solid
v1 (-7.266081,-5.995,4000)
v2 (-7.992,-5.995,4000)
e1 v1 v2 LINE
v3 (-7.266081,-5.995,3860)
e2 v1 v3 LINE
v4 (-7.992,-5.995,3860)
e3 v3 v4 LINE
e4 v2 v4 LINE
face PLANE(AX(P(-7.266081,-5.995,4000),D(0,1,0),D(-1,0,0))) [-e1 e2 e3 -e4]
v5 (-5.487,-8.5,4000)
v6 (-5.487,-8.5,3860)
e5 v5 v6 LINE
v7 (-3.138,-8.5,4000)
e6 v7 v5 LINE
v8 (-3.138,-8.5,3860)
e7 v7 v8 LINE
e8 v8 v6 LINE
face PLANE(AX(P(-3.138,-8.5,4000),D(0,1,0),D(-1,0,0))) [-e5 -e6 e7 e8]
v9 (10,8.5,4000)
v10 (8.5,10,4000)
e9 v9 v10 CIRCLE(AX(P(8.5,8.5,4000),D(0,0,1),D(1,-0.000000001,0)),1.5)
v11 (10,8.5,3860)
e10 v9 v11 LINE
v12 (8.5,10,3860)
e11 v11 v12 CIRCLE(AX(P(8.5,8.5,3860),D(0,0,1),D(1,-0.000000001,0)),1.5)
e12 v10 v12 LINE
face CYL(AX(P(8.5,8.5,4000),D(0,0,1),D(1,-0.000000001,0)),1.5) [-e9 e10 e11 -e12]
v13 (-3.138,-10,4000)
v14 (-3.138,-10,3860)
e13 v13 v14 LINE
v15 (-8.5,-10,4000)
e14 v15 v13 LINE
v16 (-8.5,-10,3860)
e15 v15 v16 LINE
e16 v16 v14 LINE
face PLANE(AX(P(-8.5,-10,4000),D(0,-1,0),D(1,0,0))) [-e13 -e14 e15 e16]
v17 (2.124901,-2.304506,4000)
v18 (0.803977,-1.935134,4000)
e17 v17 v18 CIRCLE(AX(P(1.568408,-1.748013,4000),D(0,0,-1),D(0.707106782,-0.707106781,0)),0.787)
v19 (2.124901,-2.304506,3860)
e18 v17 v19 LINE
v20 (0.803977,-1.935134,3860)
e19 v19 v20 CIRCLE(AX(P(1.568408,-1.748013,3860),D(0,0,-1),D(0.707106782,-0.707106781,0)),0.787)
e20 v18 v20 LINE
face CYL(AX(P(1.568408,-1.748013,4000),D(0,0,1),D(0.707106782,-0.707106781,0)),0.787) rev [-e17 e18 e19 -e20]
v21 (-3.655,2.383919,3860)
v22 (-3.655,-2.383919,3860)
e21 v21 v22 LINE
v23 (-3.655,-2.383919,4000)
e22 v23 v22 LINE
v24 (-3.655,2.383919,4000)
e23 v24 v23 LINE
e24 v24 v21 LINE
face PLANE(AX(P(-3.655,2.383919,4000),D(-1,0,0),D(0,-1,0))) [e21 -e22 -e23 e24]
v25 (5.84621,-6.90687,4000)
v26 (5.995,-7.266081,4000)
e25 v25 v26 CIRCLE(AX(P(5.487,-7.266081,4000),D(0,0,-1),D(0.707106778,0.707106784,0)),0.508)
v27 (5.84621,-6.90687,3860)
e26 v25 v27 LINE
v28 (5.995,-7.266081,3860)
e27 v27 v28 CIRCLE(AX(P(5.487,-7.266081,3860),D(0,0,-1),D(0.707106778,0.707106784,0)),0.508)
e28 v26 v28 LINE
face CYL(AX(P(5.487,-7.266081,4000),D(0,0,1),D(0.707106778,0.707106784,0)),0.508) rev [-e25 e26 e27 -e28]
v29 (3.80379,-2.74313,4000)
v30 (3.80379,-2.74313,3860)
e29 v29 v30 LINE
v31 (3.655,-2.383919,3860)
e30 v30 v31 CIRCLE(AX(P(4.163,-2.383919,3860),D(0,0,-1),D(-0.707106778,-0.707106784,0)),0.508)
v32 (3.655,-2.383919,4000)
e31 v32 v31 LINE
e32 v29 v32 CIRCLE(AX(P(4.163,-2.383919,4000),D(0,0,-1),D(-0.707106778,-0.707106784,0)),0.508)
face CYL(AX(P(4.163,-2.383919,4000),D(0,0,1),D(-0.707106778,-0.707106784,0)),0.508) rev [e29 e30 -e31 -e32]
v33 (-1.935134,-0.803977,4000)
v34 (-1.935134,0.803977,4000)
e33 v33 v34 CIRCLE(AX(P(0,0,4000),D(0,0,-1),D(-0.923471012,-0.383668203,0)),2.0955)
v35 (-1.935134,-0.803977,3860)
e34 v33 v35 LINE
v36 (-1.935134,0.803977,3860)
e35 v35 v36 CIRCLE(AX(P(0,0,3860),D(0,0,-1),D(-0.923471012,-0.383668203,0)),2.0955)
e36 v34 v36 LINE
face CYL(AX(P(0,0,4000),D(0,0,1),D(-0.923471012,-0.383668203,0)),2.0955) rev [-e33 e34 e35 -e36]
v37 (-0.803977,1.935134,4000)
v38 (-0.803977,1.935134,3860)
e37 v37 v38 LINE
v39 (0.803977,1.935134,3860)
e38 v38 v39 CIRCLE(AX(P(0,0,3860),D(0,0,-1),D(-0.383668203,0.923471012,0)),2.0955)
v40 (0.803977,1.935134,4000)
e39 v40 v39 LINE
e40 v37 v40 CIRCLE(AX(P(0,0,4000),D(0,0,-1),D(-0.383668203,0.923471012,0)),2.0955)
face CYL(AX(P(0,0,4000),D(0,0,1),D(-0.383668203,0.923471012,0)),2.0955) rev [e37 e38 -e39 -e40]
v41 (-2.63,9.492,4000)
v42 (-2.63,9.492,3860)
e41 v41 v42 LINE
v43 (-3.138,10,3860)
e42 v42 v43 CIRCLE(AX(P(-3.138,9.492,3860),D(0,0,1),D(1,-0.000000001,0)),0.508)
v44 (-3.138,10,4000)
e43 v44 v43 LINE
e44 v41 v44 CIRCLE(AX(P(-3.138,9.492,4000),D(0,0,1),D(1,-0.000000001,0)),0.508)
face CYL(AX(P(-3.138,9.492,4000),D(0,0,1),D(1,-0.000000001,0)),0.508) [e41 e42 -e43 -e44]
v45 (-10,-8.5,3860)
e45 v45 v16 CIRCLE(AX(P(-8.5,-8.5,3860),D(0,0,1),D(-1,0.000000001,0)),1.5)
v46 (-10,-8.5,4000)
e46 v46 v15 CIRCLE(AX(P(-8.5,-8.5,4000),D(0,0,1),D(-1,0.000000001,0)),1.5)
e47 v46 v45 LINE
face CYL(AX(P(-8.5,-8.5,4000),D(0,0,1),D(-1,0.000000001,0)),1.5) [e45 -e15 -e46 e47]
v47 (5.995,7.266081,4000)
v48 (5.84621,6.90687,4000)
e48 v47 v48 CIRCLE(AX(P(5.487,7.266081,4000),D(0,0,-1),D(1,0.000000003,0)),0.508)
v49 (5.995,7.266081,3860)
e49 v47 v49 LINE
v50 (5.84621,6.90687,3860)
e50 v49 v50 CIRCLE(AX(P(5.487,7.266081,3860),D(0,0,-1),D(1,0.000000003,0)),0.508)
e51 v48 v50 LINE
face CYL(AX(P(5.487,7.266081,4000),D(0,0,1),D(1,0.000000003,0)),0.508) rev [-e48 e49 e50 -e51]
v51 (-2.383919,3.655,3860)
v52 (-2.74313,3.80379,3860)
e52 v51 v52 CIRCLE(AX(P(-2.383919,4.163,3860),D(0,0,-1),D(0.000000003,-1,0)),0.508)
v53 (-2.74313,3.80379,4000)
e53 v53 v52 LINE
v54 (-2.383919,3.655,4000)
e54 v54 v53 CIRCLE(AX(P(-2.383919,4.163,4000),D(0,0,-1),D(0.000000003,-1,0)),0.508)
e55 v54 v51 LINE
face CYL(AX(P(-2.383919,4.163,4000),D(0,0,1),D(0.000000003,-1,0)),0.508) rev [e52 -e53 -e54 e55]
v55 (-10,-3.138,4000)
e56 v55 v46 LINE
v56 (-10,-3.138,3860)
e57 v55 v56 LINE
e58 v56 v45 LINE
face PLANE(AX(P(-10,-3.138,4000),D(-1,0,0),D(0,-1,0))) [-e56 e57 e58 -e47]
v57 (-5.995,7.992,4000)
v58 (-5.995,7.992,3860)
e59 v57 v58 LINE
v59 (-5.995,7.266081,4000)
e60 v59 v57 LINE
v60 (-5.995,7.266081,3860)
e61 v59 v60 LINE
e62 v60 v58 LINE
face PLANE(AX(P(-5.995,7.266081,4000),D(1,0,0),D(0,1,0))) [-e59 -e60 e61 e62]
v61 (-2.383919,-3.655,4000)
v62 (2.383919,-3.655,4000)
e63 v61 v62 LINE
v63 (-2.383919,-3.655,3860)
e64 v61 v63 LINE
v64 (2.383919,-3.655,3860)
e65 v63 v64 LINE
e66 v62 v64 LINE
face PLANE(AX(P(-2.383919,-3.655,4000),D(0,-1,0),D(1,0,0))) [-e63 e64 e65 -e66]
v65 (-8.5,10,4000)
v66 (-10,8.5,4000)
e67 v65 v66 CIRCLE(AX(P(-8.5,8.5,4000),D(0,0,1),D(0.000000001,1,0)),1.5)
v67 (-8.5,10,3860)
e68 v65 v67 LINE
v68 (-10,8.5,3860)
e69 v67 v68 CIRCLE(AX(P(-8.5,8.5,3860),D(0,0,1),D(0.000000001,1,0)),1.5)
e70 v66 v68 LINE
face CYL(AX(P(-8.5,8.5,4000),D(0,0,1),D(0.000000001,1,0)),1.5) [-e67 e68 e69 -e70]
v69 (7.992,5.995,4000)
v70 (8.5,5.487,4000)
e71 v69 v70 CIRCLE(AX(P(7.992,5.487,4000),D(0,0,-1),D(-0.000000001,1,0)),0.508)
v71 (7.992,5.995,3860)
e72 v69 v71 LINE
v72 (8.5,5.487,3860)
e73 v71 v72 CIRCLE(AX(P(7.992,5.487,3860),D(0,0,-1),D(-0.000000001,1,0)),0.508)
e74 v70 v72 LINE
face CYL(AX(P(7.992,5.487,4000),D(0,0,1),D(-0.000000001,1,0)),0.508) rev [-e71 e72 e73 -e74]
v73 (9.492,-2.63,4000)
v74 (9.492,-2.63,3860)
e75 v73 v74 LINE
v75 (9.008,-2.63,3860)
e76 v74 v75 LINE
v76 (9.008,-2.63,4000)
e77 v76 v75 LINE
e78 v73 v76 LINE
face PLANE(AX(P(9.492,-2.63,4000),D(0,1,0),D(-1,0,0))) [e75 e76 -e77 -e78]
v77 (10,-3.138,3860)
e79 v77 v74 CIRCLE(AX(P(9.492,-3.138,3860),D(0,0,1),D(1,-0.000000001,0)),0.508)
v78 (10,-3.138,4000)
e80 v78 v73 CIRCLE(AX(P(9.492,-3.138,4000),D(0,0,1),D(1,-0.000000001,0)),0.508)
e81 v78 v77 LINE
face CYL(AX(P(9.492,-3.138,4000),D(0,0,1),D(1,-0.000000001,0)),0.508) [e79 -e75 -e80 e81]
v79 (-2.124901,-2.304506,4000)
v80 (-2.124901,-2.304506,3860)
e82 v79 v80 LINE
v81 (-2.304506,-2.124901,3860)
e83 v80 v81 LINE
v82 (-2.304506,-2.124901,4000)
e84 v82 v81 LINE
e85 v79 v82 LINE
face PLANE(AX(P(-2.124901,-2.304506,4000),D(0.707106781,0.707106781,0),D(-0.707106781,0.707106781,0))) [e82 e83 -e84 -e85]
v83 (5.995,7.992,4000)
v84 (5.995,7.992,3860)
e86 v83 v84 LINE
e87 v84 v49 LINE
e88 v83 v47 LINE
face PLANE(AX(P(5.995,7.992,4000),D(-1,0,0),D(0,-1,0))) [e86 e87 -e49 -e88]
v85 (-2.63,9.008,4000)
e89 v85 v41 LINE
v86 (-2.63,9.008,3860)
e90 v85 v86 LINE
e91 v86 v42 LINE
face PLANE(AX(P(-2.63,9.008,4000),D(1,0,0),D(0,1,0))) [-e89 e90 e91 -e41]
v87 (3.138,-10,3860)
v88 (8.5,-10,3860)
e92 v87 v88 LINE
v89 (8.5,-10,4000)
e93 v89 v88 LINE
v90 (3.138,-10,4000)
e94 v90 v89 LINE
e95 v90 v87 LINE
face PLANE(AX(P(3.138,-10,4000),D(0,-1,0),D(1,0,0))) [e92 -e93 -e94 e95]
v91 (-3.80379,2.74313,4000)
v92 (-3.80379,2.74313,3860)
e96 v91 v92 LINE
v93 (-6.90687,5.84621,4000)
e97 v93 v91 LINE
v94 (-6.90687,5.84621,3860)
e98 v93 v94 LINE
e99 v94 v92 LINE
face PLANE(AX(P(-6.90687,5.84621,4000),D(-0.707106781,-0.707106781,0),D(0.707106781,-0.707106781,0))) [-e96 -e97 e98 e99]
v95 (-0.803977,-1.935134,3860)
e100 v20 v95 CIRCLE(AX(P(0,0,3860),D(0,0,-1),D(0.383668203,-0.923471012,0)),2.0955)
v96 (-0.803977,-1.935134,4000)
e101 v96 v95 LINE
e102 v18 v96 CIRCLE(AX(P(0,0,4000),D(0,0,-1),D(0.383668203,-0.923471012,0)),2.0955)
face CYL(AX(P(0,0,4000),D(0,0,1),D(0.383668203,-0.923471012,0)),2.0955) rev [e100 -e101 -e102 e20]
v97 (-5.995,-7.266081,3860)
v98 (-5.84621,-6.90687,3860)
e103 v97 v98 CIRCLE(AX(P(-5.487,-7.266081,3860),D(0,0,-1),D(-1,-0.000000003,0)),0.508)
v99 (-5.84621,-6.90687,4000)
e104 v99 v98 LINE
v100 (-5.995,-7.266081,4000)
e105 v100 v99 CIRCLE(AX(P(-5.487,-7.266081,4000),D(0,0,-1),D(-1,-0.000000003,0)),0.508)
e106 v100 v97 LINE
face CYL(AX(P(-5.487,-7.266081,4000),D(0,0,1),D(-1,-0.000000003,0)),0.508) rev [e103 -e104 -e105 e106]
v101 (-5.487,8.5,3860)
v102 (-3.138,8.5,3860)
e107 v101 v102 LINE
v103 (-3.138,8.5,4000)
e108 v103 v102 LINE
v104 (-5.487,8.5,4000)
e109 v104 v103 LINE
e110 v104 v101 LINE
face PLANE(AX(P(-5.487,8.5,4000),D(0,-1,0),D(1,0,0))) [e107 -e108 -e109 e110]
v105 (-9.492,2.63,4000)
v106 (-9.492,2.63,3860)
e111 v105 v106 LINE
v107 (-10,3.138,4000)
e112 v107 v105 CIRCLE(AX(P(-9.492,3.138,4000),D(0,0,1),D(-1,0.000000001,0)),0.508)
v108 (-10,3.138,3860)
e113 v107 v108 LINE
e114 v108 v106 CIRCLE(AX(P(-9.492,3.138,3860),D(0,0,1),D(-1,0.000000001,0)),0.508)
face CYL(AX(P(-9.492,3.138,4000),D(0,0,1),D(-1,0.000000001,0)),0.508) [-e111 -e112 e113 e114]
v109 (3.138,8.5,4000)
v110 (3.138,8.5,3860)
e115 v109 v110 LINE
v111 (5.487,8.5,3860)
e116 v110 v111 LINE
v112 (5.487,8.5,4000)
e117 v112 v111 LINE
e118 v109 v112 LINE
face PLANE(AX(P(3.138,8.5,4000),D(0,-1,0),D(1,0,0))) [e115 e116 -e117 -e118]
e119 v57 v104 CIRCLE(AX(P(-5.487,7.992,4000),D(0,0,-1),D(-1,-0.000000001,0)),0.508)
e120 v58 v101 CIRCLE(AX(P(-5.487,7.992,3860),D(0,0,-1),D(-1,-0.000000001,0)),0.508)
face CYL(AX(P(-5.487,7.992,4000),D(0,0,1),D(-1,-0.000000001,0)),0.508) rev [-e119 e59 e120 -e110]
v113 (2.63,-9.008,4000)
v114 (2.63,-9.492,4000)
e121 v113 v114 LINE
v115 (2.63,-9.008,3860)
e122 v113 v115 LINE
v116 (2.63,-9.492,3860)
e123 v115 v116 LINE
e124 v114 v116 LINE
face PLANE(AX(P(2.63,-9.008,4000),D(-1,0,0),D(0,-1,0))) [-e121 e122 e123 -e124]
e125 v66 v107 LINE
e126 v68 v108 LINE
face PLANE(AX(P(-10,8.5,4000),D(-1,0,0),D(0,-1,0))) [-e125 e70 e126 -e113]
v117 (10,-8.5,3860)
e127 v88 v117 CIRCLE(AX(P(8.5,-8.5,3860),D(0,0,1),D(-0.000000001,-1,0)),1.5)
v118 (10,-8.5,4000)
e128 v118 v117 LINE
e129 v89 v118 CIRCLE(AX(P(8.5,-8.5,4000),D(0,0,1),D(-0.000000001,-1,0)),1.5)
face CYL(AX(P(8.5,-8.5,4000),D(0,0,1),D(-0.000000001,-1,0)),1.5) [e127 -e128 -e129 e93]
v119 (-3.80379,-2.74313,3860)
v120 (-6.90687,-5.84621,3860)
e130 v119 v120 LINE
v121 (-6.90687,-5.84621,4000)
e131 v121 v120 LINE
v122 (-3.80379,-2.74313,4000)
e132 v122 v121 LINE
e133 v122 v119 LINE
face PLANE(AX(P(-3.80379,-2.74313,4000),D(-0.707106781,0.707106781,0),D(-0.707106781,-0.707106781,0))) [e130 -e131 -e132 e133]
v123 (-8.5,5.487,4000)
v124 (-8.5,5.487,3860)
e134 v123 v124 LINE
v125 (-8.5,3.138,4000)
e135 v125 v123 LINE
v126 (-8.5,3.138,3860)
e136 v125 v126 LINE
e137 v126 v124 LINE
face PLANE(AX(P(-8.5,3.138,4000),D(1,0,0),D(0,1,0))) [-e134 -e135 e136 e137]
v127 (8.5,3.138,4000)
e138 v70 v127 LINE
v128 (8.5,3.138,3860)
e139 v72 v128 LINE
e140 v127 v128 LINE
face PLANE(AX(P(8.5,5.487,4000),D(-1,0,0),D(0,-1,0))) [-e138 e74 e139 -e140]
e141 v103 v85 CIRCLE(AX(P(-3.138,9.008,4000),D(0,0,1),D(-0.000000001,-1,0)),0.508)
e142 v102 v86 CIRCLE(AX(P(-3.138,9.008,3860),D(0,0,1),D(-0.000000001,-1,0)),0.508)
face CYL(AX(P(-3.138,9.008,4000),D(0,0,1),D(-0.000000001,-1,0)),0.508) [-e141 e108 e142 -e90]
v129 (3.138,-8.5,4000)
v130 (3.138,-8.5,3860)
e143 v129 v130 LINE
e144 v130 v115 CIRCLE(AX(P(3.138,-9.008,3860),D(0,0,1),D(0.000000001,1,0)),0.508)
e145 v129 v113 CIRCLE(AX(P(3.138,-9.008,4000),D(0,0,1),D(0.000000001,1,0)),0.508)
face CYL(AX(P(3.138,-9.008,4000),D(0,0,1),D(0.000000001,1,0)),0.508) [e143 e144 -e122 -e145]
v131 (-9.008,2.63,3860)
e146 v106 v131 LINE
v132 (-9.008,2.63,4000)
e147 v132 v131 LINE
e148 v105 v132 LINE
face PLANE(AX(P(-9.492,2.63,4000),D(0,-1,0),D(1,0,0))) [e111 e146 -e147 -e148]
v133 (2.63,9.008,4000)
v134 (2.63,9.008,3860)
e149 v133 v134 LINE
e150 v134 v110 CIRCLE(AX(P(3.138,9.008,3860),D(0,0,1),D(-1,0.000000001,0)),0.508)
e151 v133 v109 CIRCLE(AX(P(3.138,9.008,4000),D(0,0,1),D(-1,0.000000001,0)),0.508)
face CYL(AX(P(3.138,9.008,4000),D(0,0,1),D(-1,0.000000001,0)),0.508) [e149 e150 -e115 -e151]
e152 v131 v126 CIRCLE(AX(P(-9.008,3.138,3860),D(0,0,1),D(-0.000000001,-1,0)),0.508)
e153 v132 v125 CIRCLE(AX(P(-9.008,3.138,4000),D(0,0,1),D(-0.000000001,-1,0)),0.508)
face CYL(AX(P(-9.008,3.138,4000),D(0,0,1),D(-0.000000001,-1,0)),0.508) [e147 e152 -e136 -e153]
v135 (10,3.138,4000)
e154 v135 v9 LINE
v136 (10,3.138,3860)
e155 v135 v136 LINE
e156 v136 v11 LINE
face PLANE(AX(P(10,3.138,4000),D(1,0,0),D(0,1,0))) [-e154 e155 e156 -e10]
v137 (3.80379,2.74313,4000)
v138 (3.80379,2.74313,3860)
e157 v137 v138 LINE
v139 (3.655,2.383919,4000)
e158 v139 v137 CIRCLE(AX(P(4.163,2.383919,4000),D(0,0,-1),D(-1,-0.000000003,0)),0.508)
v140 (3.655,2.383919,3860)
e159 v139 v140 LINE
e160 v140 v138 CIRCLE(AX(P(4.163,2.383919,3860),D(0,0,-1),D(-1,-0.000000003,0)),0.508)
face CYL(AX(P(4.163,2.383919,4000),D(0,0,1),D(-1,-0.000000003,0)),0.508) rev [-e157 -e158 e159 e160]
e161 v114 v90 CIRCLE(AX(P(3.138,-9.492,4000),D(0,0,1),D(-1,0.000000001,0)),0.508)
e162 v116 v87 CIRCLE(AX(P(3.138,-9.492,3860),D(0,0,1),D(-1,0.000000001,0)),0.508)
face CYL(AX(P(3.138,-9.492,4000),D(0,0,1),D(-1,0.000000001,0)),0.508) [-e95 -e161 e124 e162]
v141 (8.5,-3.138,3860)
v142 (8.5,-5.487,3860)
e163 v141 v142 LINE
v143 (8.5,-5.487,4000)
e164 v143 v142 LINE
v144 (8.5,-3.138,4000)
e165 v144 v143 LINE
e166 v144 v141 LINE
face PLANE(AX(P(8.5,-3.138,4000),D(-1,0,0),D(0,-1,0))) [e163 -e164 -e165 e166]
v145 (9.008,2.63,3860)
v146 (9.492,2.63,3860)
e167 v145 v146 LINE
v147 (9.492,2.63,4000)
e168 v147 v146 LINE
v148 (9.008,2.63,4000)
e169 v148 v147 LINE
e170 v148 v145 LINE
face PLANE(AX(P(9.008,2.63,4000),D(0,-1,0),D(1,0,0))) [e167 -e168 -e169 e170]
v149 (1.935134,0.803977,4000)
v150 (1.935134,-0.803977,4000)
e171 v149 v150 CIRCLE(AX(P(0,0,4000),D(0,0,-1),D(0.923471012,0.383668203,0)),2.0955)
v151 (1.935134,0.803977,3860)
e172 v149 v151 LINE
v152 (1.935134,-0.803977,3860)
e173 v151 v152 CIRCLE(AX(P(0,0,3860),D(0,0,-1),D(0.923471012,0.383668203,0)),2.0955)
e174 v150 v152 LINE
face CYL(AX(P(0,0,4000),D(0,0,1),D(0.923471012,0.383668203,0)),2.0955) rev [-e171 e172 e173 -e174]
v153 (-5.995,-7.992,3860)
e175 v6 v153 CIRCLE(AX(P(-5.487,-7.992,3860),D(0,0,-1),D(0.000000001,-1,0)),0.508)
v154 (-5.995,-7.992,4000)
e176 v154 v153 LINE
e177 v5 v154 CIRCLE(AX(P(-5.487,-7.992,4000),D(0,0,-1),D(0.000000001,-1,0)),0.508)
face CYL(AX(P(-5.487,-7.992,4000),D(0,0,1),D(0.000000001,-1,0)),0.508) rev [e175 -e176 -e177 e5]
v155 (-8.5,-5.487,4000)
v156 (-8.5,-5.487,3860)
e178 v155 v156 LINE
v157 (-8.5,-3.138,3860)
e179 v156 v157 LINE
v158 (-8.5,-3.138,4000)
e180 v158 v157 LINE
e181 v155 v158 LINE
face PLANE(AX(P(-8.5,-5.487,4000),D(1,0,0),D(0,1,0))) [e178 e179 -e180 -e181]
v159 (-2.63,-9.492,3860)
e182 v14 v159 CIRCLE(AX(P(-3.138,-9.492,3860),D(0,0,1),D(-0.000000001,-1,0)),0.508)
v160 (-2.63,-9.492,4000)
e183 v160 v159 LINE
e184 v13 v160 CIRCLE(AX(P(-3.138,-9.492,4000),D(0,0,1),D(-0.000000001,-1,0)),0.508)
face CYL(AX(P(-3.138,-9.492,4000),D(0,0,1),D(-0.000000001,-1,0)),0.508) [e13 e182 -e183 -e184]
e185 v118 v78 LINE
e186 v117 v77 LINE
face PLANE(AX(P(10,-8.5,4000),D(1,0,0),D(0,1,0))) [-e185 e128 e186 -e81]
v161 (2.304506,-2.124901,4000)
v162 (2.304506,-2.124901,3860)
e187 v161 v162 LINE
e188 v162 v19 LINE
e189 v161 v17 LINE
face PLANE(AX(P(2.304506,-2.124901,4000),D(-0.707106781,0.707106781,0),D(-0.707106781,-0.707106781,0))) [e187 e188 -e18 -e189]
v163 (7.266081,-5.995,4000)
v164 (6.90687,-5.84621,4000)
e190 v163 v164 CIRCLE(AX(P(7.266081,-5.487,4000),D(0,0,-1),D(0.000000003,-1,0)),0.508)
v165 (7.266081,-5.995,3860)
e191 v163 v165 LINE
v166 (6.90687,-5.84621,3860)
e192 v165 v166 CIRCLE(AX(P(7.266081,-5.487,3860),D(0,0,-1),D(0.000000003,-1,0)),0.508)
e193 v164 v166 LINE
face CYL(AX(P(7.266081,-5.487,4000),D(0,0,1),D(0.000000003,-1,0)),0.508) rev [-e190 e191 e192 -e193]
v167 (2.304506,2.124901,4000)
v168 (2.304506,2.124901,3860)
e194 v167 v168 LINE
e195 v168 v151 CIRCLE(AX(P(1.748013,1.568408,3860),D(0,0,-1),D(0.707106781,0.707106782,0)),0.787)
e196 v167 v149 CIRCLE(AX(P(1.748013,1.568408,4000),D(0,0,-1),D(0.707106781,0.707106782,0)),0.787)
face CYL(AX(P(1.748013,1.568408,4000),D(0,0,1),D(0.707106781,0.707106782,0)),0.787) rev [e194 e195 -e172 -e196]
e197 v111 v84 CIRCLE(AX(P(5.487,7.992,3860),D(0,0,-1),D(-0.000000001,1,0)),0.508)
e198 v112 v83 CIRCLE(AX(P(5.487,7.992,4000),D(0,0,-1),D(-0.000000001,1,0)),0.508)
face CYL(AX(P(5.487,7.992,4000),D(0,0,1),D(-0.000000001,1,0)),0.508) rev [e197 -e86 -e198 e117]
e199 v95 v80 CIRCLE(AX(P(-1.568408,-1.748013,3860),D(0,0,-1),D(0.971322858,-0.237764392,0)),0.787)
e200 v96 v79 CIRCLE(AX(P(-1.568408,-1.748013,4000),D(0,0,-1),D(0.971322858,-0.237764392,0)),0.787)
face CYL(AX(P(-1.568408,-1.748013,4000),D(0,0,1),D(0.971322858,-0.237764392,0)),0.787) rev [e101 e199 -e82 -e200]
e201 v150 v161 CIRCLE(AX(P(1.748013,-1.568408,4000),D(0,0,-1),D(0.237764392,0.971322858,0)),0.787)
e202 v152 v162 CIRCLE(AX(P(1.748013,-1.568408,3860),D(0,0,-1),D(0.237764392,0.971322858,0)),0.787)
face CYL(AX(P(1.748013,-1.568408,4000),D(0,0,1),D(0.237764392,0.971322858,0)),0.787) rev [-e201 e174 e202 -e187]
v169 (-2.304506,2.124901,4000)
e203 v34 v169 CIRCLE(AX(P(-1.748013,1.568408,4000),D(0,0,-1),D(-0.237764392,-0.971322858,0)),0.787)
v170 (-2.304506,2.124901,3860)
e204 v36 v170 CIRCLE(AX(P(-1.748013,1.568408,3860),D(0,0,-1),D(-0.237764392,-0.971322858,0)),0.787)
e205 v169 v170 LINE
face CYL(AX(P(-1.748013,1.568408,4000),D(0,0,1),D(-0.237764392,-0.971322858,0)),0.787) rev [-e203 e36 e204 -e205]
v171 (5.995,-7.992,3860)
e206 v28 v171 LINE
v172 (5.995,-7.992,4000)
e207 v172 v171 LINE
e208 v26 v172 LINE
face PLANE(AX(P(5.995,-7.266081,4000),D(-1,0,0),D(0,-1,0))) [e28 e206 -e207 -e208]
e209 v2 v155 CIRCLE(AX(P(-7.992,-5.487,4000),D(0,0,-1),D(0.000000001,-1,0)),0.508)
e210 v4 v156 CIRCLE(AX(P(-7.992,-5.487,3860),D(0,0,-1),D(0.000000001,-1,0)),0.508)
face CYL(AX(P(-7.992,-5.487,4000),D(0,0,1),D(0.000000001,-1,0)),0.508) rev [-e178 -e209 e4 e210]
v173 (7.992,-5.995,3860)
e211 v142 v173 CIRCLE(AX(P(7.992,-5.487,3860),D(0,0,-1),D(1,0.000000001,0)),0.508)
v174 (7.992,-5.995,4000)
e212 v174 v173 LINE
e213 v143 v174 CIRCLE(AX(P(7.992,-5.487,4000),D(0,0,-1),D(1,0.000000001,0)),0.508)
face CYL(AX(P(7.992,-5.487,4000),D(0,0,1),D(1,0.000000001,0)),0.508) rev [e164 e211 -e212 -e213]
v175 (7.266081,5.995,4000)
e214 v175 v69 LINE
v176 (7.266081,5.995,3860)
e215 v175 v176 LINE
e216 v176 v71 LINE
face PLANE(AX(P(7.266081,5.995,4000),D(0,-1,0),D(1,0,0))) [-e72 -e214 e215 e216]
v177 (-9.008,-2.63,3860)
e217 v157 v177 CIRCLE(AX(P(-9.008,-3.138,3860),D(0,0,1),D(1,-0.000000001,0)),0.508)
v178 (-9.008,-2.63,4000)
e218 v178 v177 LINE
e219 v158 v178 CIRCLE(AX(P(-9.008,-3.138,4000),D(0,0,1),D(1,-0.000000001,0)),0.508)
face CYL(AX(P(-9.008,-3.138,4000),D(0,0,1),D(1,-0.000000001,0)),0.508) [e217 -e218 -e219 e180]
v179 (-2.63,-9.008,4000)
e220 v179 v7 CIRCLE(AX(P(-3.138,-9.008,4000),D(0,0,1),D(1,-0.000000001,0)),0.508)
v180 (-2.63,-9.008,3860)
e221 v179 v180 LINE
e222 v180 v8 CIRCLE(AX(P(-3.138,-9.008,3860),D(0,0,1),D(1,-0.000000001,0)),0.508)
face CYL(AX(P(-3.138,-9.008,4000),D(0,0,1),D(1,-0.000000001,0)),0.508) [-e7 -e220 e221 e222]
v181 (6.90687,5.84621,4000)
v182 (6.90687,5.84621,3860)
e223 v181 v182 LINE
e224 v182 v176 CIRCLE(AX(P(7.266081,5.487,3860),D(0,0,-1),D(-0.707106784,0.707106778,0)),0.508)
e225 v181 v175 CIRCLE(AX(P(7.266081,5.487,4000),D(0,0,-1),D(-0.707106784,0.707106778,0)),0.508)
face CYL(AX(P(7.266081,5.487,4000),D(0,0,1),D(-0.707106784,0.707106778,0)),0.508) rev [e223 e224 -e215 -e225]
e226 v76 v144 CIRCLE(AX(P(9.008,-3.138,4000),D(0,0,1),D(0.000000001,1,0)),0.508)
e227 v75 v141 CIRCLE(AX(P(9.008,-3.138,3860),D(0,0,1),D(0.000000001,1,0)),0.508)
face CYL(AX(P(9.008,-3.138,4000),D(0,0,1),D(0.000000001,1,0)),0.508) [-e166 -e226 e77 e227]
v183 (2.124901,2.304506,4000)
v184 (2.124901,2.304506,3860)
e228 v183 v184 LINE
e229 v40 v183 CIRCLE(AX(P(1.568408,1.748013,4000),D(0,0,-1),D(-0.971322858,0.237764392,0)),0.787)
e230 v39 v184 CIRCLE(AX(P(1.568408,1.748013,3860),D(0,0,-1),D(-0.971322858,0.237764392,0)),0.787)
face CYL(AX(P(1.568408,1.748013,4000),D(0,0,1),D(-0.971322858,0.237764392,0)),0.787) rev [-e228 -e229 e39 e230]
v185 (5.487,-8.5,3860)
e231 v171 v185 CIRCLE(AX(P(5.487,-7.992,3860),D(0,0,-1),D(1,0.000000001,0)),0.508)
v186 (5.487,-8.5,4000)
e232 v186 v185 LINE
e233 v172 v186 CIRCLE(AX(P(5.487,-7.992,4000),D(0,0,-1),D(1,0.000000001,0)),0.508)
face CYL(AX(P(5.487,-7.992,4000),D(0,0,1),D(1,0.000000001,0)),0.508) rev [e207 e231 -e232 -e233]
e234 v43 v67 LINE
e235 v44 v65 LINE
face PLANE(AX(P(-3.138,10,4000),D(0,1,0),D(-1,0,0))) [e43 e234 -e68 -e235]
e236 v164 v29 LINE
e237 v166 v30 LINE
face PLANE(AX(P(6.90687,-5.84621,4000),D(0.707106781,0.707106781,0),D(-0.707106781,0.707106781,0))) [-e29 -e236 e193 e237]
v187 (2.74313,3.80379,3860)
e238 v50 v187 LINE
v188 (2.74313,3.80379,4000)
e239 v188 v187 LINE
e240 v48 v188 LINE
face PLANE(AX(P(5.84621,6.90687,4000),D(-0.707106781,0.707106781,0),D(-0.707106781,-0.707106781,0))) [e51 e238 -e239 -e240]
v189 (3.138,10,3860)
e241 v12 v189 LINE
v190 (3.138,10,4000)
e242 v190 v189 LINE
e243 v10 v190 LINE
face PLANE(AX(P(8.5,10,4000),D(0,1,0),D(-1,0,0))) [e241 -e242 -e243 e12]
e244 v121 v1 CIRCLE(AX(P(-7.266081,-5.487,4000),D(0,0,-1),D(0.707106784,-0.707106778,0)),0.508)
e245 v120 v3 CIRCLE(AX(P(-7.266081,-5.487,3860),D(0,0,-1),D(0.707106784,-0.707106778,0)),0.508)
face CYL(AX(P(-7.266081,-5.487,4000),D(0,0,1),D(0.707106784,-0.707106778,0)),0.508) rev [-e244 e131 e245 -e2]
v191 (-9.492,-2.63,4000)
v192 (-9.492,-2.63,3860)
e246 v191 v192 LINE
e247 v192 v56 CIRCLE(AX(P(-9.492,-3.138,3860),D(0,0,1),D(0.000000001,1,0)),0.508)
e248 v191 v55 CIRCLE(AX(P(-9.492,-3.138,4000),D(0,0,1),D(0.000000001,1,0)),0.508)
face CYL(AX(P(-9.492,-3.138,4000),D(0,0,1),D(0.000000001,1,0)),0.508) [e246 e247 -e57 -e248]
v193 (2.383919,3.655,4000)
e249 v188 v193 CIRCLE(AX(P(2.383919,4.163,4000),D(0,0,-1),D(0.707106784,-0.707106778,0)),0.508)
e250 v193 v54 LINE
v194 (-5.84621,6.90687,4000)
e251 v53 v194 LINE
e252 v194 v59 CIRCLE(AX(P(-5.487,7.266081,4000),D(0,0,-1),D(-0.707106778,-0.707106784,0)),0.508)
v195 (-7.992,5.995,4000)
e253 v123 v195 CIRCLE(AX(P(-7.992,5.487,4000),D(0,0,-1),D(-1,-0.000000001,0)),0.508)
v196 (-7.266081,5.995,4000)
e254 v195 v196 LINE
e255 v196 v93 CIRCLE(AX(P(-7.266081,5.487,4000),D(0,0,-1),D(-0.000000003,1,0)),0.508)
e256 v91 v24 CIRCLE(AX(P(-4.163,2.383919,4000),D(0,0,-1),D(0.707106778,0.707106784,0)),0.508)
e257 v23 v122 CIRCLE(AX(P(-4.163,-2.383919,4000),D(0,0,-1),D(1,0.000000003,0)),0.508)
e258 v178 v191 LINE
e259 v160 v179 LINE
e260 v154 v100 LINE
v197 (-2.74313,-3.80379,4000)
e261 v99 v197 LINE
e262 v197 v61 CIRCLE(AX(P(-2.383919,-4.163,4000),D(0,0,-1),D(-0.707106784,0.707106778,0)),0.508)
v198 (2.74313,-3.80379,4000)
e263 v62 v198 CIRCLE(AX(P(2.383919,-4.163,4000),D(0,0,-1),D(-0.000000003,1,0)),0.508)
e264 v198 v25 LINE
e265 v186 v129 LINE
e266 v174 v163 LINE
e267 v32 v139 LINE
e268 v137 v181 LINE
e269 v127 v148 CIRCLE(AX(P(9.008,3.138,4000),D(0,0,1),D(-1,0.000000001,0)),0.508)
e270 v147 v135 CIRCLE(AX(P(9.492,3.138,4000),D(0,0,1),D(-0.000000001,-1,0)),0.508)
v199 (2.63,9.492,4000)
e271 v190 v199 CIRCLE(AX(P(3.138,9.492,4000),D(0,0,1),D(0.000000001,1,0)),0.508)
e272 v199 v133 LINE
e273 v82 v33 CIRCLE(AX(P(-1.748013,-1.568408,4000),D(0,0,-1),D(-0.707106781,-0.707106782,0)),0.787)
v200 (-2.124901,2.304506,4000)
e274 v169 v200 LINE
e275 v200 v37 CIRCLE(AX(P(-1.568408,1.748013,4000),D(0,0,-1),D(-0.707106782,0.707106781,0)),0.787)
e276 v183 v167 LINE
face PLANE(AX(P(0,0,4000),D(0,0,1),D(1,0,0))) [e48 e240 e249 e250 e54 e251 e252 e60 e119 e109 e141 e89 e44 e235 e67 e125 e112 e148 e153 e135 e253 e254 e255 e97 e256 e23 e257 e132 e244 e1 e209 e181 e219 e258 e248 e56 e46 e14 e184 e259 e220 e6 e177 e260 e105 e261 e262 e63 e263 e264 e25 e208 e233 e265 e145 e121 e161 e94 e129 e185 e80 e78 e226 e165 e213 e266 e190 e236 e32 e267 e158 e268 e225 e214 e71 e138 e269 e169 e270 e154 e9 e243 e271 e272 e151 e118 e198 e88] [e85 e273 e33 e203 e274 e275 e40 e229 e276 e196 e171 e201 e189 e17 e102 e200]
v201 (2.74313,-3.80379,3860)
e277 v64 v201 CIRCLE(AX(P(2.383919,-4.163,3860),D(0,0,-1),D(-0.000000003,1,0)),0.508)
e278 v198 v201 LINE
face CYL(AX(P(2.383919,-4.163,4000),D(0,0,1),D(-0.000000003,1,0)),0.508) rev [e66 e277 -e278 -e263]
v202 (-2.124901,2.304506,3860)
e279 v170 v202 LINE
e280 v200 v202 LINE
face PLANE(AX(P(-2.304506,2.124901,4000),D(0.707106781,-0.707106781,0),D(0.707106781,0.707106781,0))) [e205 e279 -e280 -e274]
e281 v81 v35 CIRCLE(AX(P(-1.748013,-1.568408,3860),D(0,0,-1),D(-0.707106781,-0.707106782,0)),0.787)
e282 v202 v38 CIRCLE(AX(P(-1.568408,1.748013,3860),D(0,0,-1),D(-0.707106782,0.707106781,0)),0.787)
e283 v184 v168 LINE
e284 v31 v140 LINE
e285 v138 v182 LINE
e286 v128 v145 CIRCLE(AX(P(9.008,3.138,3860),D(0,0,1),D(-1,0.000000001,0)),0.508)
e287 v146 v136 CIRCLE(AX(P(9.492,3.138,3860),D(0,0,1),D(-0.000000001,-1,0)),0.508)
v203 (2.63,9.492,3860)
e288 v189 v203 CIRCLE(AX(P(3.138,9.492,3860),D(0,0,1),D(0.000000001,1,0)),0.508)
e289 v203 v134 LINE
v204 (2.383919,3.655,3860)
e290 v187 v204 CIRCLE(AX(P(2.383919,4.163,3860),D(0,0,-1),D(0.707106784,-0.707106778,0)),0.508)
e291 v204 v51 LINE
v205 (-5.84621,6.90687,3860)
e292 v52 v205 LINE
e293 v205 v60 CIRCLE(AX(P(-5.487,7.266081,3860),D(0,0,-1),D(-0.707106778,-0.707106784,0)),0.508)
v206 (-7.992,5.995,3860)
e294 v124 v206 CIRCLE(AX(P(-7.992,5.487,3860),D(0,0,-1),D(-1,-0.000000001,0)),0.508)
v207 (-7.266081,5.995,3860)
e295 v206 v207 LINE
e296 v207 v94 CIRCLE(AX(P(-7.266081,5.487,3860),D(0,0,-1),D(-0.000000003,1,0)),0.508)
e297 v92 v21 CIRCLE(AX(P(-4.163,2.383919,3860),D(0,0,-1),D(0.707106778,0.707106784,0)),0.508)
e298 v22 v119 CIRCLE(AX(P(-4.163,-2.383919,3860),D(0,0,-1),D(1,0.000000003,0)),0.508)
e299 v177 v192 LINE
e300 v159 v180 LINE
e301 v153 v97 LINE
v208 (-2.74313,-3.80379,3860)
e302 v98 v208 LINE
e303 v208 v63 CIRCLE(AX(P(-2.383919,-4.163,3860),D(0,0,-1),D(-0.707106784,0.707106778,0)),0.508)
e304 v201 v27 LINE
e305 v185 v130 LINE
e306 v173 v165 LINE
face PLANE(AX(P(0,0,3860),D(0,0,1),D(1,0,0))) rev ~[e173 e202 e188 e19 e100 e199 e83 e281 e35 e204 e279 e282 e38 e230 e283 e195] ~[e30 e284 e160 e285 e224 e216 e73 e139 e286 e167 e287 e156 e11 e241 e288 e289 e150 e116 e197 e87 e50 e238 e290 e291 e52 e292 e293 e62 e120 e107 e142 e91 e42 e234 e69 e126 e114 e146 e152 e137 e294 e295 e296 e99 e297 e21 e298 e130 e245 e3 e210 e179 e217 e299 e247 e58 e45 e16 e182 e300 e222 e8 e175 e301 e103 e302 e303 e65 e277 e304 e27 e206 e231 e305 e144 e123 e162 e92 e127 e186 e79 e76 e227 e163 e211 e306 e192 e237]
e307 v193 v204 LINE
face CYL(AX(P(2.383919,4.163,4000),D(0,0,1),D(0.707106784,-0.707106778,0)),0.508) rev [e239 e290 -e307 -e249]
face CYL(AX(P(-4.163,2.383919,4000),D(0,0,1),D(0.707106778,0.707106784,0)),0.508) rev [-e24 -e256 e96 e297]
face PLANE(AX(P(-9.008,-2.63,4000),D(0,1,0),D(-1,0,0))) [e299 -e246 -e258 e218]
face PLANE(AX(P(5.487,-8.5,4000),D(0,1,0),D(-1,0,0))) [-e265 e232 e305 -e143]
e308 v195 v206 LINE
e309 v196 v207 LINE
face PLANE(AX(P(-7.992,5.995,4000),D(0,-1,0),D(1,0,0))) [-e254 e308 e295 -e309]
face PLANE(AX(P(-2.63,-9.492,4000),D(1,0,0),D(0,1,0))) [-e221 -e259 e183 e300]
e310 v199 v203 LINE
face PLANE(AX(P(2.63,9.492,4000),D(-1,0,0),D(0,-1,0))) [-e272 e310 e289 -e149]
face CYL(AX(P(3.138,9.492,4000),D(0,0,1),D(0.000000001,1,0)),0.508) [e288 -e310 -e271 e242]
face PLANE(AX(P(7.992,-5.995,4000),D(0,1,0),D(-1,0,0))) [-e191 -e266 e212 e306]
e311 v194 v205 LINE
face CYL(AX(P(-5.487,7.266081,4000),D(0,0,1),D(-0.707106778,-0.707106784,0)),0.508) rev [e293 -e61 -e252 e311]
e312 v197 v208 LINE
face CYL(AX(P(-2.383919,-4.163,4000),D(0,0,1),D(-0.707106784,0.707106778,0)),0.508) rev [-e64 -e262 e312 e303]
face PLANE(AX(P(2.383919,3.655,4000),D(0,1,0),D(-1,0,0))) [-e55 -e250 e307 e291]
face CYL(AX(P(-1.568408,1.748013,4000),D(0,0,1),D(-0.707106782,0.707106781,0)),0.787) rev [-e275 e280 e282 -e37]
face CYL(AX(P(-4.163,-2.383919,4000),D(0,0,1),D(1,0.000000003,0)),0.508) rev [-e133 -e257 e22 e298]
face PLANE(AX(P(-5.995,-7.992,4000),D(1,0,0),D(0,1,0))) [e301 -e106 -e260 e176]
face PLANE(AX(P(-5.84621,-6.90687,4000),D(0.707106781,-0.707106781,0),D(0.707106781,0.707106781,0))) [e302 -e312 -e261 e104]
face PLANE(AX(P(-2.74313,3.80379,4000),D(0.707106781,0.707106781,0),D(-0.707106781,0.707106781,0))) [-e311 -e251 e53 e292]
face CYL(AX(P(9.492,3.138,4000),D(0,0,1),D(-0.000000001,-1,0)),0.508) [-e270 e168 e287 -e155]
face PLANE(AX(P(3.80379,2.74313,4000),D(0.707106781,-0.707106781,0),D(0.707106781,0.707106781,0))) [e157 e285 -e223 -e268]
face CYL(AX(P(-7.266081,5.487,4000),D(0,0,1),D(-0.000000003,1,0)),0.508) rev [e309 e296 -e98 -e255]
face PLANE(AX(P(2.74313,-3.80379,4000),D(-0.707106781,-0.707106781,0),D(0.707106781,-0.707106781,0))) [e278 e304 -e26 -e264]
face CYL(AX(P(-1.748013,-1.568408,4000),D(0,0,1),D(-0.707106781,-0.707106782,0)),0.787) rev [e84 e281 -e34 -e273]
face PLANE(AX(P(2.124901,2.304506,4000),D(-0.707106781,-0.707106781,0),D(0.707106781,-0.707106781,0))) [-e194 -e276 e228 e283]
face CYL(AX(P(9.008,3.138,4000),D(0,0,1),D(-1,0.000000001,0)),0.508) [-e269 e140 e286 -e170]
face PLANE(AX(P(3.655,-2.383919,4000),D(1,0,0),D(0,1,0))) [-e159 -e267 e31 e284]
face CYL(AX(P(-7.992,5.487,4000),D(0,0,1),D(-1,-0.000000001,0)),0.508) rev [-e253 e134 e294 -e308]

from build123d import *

# Parameters (mm, degrees)
BOSS_EXTRUDE1_DEPTH = 140


with BuildPart() as part:
    # Sketch1 → Boss-Extrude1 (new body)
    with BuildSketch(Plane.XY.offset(4000)):
        with BuildLine():
            Line((10, 3.138), (10, 8.5))
            ThreePointArc((10, 8.5), (9.560660172, 9.560660172), (8.5, 10))
            Line((8.5, 10), (3.138, 10))
            ThreePointArc((3.138, 10), (2.778789755, 9.851210245), (2.63, 9.492))
            Line((2.63, 9.492), (2.63, 9.008))
            ThreePointArc((2.63, 9.008), (2.778789755, 8.648789755), (3.138, 8.5))
            Line((3.138, 8.5), (5.487, 8.5))
            ThreePointArc((5.487, 8.5), (5.846210245, 8.351210245), (5.995, 7.992))
            Line((5.995, 7.992), (5.995, 7.266080661))
            ThreePointArc((5.995, 7.266080661), (5.956330803, 7.071677478), (5.846210245, 6.906870417))
            Line((5.846210245, 6.906870417), (2.743129583, 3.803789755))
            ThreePointArc((2.743129583, 3.803789755), (2.578322522, 3.693669197), (2.383919339, 3.655))
            Line((2.383919339, 3.655), (-2.383919339, 3.655))
            ThreePointArc((-2.383919339, 3.655), (-2.578322522, 3.693669197), (-2.743129583, 3.803789755))
            Line((-2.743129583, 3.803789755), (-5.846210245, 6.906870417))
            ThreePointArc((-5.846210245, 6.906870417), (-5.956330803, 7.071677478), (-5.995, 7.266080661))
            Line((-5.995, 7.266080661), (-5.995, 7.992))
            ThreePointArc((-5.995, 7.992), (-5.846210245, 8.351210245), (-5.487, 8.5))
            Line((-5.487, 8.5), (-3.138, 8.5))
            ThreePointArc((-3.138, 8.5), (-2.778789755, 8.648789755), (-2.63, 9.008))
            Line((-2.63, 9.008), (-2.63, 9.492))
            ThreePointArc((-2.63, 9.492), (-2.778789755, 9.851210245), (-3.138, 10))
            Line((-3.138, 10), (-8.5, 10))
            ThreePointArc((-8.5, 10), (-9.560660172, 9.560660172), (-10, 8.5))
            Line((-10, 8.5), (-10, 3.138))
            ThreePointArc((-10, 3.138), (-9.851210245, 2.778789755), (-9.492, 2.63))
            Line((-9.492, 2.63), (-9.008, 2.63))
            ThreePointArc((-9.008, 2.63), (-8.648789755, 2.778789755), (-8.5, 3.138))
            Line((-8.5, 3.138), (-8.5, 5.487))
            ThreePointArc((-8.5, 5.487), (-8.351210245, 5.846210245), (-7.992, 5.995))
            Line((-7.992, 5.995), (-7.266080661, 5.995))
            ThreePointArc((-7.266080661, 5.995), (-7.071677478, 5.956330803), (-6.906870417, 5.846210245))
            Line((-6.906870417, 5.846210245), (-3.803789755, 2.743129583))
            ThreePointArc((-3.803789755, 2.743129583), (-3.693669197, 2.578322522), (-3.655, 2.383919339))
            Line((-3.655, 2.383919339), (-3.655, -2.383919339))
            ThreePointArc((-3.655, -2.383919339), (-3.693669197, -2.578322522), (-3.803789755, -2.743129583))
            Line((-3.803789755, -2.743129583), (-6.906870417, -5.846210245))
            ThreePointArc((-6.906870417, -5.846210245), (-7.071677478, -5.956330803), (-7.266080661, -5.995))
            Line((-7.266080661, -5.995), (-7.992, -5.995))
            ThreePointArc((-7.992, -5.995), (-8.351210245, -5.846210245), (-8.5, -5.487))
            Line((-8.5, -5.487), (-8.5, -3.138))
            ThreePointArc((-8.5, -3.138), (-8.648789755, -2.778789755), (-9.008, -2.63))
            Line((-9.008, -2.63), (-9.492, -2.63))
            ThreePointArc((-9.492, -2.63), (-9.851210245, -2.778789755), (-10, -3.138))
            Line((-10, -3.138), (-10, -8.5))
            ThreePointArc((-10, -8.5), (-9.560660172, -9.560660172), (-8.5, -10))
            Line((-8.5, -10), (-3.138, -10))
            ThreePointArc((-3.138, -10), (-2.778789755, -9.851210245), (-2.63, -9.492))
            Line((-2.63, -9.492), (-2.63, -9.008))
            ThreePointArc((-2.63, -9.008), (-2.778789755, -8.648789755), (-3.138, -8.5))
            Line((-3.138, -8.5), (-5.487, -8.5))
            ThreePointArc((-5.487, -8.5), (-5.846210245, -8.351210245), (-5.995, -7.992))
            Line((-5.995, -7.992), (-5.995, -7.266080661))
            ThreePointArc((-5.995, -7.266080661), (-5.956330803, -7.071677478), (-5.846210245, -6.906870417))
            Line((-5.846210245, -6.906870417), (-2.743129583, -3.803789755))
            ThreePointArc((-2.743129583, -3.803789755), (-2.578322522, -3.693669197), (-2.383919339, -3.655))
            Line((-2.383919339, -3.655), (2.383919339, -3.655))
            ThreePointArc((2.383919339, -3.655), (2.578322522, -3.693669197), (2.743129583, -3.803789755))
            Line((2.743129583, -3.803789755), (5.846210245, -6.906870417))
            ThreePointArc((5.846210245, -6.906870417), (5.956330803, -7.071677478), (5.995, -7.266080661))
            Line((5.995, -7.266080661), (5.995, -7.992))
            ThreePointArc((5.995, -7.992), (5.846210245, -8.351210245), (5.487, -8.5))
            Line((5.487, -8.5), (3.138, -8.5))
            ThreePointArc((3.138, -8.5), (2.778789755, -8.648789755), (2.63, -9.008))
            Line((2.63, -9.008), (2.63, -9.492))
            ThreePointArc((2.63, -9.492), (2.778789755, -9.851210245), (3.138, -10))
            Line((3.138, -10), (8.5, -10))
            ThreePointArc((8.5, -10), (9.560660172, -9.560660172), (10, -8.5))
            Line((10, -8.5), (10, -3.138))
            ThreePointArc((10, -3.138), (9.851210245, -2.778789755), (9.492, -2.63))
            Line((9.492, -2.63), (9.008, -2.63))
            ThreePointArc((9.008, -2.63), (8.648789755, -2.778789755), (8.5, -3.138))
            Line((8.5, -3.138), (8.5, -5.487))
            ThreePointArc((8.5, -5.487), (8.351210245, -5.846210245), (7.992, -5.995))
            Line((7.992, -5.995), (7.266080661, -5.995))
            ThreePointArc((7.266080661, -5.995), (7.071677478, -5.956330803), (6.906870417, -5.846210245))
            Line((6.906870417, -5.846210245), (3.803789755, -2.743129583))
            ThreePointArc((3.803789755, -2.743129583), (3.693669197, -2.578322522), (3.655, -2.383919339))
            Line((3.655, -2.383919339), (3.655, 2.383919339))
            ThreePointArc((3.655, 2.383919339), (3.693669197, 2.578322522), (3.803789755, 2.743129583))
            Line((3.803789755, 2.743129583), (6.906870417, 5.846210245))
            ThreePointArc((6.906870417, 5.846210245), (7.071677478, 5.956330803), (7.266080661, 5.995))
            Line((7.266080661, 5.995), (7.992, 5.995))
            ThreePointArc((7.992, 5.995), (8.351210245, 5.846210245), (8.5, 5.487))
            Line((8.5, 5.487), (8.5, 3.138))
            ThreePointArc((8.5, 3.138), (8.648789755, 2.778789755), (9.008, 2.63))
            Line((9.008, 2.63), (9.492, 2.63))
            ThreePointArc((9.492, 2.63), (9.851210245, 2.778789755), (10, 3.138))
        make_face()
        with BuildLine():
            Line((-2.124900844, -2.304505966), (-2.304505966, -2.124900844))
            ThreePointArc((-2.304505966, -2.124900844), (-2.505938017, -1.356467811), (-1.935133506, -0.803976718))
            ThreePointArc((-1.935133506, -0.803976718), (-2.0955, 0), (-1.935133506, 0.803976718))
            ThreePointArc((-1.935133506, 0.803976718), (-2.505938017, 1.356467811), (-2.304505966, 2.124900844))
            Line((-2.304505966, 2.124900844), (-2.124900844, 2.304505966))
            ThreePointArc((-2.124900844, 2.304505966), (-1.356467811, 2.505938017), (-0.803976718, 1.935133506))
            ThreePointArc((-0.803976718, 1.935133506), (0, 2.0955), (0.803976718, 1.935133506))
            ThreePointArc((0.803976718, 1.935133506), (1.356467811, 2.505938017), (2.124900844, 2.304505966))
            Line((2.124900844, 2.304505966), (2.304505966, 2.124900844))
            ThreePointArc((2.304505966, 2.124900844), (2.505938017, 1.356467811), (1.935133506, 0.803976718))
            ThreePointArc((1.935133506, 0.803976718), (2.0955, 0), (1.935133506, -0.803976718))
            ThreePointArc((1.935133506, -0.803976718), (2.505938017, -1.356467811), (2.304505966, -2.124900844))
            Line((2.304505966, -2.124900844), (2.124900844, -2.304505966))
            ThreePointArc((2.124900844, -2.304505966), (1.356467811, -2.505938017), (0.803976718, -1.935133506))
            ThreePointArc((0.803976718, -1.935133506), (0, -2.0955), (-0.803976718, -1.935133506))
            ThreePointArc((-0.803976718, -1.935133506), (-1.356467811, -2.505938017), (-2.124900844, -2.304505966))
        make_face(mode=Mode.SUBTRACT)
    extrude(amount=-BOSS_EXTRUDE1_DEPTH)


solid = part.part
